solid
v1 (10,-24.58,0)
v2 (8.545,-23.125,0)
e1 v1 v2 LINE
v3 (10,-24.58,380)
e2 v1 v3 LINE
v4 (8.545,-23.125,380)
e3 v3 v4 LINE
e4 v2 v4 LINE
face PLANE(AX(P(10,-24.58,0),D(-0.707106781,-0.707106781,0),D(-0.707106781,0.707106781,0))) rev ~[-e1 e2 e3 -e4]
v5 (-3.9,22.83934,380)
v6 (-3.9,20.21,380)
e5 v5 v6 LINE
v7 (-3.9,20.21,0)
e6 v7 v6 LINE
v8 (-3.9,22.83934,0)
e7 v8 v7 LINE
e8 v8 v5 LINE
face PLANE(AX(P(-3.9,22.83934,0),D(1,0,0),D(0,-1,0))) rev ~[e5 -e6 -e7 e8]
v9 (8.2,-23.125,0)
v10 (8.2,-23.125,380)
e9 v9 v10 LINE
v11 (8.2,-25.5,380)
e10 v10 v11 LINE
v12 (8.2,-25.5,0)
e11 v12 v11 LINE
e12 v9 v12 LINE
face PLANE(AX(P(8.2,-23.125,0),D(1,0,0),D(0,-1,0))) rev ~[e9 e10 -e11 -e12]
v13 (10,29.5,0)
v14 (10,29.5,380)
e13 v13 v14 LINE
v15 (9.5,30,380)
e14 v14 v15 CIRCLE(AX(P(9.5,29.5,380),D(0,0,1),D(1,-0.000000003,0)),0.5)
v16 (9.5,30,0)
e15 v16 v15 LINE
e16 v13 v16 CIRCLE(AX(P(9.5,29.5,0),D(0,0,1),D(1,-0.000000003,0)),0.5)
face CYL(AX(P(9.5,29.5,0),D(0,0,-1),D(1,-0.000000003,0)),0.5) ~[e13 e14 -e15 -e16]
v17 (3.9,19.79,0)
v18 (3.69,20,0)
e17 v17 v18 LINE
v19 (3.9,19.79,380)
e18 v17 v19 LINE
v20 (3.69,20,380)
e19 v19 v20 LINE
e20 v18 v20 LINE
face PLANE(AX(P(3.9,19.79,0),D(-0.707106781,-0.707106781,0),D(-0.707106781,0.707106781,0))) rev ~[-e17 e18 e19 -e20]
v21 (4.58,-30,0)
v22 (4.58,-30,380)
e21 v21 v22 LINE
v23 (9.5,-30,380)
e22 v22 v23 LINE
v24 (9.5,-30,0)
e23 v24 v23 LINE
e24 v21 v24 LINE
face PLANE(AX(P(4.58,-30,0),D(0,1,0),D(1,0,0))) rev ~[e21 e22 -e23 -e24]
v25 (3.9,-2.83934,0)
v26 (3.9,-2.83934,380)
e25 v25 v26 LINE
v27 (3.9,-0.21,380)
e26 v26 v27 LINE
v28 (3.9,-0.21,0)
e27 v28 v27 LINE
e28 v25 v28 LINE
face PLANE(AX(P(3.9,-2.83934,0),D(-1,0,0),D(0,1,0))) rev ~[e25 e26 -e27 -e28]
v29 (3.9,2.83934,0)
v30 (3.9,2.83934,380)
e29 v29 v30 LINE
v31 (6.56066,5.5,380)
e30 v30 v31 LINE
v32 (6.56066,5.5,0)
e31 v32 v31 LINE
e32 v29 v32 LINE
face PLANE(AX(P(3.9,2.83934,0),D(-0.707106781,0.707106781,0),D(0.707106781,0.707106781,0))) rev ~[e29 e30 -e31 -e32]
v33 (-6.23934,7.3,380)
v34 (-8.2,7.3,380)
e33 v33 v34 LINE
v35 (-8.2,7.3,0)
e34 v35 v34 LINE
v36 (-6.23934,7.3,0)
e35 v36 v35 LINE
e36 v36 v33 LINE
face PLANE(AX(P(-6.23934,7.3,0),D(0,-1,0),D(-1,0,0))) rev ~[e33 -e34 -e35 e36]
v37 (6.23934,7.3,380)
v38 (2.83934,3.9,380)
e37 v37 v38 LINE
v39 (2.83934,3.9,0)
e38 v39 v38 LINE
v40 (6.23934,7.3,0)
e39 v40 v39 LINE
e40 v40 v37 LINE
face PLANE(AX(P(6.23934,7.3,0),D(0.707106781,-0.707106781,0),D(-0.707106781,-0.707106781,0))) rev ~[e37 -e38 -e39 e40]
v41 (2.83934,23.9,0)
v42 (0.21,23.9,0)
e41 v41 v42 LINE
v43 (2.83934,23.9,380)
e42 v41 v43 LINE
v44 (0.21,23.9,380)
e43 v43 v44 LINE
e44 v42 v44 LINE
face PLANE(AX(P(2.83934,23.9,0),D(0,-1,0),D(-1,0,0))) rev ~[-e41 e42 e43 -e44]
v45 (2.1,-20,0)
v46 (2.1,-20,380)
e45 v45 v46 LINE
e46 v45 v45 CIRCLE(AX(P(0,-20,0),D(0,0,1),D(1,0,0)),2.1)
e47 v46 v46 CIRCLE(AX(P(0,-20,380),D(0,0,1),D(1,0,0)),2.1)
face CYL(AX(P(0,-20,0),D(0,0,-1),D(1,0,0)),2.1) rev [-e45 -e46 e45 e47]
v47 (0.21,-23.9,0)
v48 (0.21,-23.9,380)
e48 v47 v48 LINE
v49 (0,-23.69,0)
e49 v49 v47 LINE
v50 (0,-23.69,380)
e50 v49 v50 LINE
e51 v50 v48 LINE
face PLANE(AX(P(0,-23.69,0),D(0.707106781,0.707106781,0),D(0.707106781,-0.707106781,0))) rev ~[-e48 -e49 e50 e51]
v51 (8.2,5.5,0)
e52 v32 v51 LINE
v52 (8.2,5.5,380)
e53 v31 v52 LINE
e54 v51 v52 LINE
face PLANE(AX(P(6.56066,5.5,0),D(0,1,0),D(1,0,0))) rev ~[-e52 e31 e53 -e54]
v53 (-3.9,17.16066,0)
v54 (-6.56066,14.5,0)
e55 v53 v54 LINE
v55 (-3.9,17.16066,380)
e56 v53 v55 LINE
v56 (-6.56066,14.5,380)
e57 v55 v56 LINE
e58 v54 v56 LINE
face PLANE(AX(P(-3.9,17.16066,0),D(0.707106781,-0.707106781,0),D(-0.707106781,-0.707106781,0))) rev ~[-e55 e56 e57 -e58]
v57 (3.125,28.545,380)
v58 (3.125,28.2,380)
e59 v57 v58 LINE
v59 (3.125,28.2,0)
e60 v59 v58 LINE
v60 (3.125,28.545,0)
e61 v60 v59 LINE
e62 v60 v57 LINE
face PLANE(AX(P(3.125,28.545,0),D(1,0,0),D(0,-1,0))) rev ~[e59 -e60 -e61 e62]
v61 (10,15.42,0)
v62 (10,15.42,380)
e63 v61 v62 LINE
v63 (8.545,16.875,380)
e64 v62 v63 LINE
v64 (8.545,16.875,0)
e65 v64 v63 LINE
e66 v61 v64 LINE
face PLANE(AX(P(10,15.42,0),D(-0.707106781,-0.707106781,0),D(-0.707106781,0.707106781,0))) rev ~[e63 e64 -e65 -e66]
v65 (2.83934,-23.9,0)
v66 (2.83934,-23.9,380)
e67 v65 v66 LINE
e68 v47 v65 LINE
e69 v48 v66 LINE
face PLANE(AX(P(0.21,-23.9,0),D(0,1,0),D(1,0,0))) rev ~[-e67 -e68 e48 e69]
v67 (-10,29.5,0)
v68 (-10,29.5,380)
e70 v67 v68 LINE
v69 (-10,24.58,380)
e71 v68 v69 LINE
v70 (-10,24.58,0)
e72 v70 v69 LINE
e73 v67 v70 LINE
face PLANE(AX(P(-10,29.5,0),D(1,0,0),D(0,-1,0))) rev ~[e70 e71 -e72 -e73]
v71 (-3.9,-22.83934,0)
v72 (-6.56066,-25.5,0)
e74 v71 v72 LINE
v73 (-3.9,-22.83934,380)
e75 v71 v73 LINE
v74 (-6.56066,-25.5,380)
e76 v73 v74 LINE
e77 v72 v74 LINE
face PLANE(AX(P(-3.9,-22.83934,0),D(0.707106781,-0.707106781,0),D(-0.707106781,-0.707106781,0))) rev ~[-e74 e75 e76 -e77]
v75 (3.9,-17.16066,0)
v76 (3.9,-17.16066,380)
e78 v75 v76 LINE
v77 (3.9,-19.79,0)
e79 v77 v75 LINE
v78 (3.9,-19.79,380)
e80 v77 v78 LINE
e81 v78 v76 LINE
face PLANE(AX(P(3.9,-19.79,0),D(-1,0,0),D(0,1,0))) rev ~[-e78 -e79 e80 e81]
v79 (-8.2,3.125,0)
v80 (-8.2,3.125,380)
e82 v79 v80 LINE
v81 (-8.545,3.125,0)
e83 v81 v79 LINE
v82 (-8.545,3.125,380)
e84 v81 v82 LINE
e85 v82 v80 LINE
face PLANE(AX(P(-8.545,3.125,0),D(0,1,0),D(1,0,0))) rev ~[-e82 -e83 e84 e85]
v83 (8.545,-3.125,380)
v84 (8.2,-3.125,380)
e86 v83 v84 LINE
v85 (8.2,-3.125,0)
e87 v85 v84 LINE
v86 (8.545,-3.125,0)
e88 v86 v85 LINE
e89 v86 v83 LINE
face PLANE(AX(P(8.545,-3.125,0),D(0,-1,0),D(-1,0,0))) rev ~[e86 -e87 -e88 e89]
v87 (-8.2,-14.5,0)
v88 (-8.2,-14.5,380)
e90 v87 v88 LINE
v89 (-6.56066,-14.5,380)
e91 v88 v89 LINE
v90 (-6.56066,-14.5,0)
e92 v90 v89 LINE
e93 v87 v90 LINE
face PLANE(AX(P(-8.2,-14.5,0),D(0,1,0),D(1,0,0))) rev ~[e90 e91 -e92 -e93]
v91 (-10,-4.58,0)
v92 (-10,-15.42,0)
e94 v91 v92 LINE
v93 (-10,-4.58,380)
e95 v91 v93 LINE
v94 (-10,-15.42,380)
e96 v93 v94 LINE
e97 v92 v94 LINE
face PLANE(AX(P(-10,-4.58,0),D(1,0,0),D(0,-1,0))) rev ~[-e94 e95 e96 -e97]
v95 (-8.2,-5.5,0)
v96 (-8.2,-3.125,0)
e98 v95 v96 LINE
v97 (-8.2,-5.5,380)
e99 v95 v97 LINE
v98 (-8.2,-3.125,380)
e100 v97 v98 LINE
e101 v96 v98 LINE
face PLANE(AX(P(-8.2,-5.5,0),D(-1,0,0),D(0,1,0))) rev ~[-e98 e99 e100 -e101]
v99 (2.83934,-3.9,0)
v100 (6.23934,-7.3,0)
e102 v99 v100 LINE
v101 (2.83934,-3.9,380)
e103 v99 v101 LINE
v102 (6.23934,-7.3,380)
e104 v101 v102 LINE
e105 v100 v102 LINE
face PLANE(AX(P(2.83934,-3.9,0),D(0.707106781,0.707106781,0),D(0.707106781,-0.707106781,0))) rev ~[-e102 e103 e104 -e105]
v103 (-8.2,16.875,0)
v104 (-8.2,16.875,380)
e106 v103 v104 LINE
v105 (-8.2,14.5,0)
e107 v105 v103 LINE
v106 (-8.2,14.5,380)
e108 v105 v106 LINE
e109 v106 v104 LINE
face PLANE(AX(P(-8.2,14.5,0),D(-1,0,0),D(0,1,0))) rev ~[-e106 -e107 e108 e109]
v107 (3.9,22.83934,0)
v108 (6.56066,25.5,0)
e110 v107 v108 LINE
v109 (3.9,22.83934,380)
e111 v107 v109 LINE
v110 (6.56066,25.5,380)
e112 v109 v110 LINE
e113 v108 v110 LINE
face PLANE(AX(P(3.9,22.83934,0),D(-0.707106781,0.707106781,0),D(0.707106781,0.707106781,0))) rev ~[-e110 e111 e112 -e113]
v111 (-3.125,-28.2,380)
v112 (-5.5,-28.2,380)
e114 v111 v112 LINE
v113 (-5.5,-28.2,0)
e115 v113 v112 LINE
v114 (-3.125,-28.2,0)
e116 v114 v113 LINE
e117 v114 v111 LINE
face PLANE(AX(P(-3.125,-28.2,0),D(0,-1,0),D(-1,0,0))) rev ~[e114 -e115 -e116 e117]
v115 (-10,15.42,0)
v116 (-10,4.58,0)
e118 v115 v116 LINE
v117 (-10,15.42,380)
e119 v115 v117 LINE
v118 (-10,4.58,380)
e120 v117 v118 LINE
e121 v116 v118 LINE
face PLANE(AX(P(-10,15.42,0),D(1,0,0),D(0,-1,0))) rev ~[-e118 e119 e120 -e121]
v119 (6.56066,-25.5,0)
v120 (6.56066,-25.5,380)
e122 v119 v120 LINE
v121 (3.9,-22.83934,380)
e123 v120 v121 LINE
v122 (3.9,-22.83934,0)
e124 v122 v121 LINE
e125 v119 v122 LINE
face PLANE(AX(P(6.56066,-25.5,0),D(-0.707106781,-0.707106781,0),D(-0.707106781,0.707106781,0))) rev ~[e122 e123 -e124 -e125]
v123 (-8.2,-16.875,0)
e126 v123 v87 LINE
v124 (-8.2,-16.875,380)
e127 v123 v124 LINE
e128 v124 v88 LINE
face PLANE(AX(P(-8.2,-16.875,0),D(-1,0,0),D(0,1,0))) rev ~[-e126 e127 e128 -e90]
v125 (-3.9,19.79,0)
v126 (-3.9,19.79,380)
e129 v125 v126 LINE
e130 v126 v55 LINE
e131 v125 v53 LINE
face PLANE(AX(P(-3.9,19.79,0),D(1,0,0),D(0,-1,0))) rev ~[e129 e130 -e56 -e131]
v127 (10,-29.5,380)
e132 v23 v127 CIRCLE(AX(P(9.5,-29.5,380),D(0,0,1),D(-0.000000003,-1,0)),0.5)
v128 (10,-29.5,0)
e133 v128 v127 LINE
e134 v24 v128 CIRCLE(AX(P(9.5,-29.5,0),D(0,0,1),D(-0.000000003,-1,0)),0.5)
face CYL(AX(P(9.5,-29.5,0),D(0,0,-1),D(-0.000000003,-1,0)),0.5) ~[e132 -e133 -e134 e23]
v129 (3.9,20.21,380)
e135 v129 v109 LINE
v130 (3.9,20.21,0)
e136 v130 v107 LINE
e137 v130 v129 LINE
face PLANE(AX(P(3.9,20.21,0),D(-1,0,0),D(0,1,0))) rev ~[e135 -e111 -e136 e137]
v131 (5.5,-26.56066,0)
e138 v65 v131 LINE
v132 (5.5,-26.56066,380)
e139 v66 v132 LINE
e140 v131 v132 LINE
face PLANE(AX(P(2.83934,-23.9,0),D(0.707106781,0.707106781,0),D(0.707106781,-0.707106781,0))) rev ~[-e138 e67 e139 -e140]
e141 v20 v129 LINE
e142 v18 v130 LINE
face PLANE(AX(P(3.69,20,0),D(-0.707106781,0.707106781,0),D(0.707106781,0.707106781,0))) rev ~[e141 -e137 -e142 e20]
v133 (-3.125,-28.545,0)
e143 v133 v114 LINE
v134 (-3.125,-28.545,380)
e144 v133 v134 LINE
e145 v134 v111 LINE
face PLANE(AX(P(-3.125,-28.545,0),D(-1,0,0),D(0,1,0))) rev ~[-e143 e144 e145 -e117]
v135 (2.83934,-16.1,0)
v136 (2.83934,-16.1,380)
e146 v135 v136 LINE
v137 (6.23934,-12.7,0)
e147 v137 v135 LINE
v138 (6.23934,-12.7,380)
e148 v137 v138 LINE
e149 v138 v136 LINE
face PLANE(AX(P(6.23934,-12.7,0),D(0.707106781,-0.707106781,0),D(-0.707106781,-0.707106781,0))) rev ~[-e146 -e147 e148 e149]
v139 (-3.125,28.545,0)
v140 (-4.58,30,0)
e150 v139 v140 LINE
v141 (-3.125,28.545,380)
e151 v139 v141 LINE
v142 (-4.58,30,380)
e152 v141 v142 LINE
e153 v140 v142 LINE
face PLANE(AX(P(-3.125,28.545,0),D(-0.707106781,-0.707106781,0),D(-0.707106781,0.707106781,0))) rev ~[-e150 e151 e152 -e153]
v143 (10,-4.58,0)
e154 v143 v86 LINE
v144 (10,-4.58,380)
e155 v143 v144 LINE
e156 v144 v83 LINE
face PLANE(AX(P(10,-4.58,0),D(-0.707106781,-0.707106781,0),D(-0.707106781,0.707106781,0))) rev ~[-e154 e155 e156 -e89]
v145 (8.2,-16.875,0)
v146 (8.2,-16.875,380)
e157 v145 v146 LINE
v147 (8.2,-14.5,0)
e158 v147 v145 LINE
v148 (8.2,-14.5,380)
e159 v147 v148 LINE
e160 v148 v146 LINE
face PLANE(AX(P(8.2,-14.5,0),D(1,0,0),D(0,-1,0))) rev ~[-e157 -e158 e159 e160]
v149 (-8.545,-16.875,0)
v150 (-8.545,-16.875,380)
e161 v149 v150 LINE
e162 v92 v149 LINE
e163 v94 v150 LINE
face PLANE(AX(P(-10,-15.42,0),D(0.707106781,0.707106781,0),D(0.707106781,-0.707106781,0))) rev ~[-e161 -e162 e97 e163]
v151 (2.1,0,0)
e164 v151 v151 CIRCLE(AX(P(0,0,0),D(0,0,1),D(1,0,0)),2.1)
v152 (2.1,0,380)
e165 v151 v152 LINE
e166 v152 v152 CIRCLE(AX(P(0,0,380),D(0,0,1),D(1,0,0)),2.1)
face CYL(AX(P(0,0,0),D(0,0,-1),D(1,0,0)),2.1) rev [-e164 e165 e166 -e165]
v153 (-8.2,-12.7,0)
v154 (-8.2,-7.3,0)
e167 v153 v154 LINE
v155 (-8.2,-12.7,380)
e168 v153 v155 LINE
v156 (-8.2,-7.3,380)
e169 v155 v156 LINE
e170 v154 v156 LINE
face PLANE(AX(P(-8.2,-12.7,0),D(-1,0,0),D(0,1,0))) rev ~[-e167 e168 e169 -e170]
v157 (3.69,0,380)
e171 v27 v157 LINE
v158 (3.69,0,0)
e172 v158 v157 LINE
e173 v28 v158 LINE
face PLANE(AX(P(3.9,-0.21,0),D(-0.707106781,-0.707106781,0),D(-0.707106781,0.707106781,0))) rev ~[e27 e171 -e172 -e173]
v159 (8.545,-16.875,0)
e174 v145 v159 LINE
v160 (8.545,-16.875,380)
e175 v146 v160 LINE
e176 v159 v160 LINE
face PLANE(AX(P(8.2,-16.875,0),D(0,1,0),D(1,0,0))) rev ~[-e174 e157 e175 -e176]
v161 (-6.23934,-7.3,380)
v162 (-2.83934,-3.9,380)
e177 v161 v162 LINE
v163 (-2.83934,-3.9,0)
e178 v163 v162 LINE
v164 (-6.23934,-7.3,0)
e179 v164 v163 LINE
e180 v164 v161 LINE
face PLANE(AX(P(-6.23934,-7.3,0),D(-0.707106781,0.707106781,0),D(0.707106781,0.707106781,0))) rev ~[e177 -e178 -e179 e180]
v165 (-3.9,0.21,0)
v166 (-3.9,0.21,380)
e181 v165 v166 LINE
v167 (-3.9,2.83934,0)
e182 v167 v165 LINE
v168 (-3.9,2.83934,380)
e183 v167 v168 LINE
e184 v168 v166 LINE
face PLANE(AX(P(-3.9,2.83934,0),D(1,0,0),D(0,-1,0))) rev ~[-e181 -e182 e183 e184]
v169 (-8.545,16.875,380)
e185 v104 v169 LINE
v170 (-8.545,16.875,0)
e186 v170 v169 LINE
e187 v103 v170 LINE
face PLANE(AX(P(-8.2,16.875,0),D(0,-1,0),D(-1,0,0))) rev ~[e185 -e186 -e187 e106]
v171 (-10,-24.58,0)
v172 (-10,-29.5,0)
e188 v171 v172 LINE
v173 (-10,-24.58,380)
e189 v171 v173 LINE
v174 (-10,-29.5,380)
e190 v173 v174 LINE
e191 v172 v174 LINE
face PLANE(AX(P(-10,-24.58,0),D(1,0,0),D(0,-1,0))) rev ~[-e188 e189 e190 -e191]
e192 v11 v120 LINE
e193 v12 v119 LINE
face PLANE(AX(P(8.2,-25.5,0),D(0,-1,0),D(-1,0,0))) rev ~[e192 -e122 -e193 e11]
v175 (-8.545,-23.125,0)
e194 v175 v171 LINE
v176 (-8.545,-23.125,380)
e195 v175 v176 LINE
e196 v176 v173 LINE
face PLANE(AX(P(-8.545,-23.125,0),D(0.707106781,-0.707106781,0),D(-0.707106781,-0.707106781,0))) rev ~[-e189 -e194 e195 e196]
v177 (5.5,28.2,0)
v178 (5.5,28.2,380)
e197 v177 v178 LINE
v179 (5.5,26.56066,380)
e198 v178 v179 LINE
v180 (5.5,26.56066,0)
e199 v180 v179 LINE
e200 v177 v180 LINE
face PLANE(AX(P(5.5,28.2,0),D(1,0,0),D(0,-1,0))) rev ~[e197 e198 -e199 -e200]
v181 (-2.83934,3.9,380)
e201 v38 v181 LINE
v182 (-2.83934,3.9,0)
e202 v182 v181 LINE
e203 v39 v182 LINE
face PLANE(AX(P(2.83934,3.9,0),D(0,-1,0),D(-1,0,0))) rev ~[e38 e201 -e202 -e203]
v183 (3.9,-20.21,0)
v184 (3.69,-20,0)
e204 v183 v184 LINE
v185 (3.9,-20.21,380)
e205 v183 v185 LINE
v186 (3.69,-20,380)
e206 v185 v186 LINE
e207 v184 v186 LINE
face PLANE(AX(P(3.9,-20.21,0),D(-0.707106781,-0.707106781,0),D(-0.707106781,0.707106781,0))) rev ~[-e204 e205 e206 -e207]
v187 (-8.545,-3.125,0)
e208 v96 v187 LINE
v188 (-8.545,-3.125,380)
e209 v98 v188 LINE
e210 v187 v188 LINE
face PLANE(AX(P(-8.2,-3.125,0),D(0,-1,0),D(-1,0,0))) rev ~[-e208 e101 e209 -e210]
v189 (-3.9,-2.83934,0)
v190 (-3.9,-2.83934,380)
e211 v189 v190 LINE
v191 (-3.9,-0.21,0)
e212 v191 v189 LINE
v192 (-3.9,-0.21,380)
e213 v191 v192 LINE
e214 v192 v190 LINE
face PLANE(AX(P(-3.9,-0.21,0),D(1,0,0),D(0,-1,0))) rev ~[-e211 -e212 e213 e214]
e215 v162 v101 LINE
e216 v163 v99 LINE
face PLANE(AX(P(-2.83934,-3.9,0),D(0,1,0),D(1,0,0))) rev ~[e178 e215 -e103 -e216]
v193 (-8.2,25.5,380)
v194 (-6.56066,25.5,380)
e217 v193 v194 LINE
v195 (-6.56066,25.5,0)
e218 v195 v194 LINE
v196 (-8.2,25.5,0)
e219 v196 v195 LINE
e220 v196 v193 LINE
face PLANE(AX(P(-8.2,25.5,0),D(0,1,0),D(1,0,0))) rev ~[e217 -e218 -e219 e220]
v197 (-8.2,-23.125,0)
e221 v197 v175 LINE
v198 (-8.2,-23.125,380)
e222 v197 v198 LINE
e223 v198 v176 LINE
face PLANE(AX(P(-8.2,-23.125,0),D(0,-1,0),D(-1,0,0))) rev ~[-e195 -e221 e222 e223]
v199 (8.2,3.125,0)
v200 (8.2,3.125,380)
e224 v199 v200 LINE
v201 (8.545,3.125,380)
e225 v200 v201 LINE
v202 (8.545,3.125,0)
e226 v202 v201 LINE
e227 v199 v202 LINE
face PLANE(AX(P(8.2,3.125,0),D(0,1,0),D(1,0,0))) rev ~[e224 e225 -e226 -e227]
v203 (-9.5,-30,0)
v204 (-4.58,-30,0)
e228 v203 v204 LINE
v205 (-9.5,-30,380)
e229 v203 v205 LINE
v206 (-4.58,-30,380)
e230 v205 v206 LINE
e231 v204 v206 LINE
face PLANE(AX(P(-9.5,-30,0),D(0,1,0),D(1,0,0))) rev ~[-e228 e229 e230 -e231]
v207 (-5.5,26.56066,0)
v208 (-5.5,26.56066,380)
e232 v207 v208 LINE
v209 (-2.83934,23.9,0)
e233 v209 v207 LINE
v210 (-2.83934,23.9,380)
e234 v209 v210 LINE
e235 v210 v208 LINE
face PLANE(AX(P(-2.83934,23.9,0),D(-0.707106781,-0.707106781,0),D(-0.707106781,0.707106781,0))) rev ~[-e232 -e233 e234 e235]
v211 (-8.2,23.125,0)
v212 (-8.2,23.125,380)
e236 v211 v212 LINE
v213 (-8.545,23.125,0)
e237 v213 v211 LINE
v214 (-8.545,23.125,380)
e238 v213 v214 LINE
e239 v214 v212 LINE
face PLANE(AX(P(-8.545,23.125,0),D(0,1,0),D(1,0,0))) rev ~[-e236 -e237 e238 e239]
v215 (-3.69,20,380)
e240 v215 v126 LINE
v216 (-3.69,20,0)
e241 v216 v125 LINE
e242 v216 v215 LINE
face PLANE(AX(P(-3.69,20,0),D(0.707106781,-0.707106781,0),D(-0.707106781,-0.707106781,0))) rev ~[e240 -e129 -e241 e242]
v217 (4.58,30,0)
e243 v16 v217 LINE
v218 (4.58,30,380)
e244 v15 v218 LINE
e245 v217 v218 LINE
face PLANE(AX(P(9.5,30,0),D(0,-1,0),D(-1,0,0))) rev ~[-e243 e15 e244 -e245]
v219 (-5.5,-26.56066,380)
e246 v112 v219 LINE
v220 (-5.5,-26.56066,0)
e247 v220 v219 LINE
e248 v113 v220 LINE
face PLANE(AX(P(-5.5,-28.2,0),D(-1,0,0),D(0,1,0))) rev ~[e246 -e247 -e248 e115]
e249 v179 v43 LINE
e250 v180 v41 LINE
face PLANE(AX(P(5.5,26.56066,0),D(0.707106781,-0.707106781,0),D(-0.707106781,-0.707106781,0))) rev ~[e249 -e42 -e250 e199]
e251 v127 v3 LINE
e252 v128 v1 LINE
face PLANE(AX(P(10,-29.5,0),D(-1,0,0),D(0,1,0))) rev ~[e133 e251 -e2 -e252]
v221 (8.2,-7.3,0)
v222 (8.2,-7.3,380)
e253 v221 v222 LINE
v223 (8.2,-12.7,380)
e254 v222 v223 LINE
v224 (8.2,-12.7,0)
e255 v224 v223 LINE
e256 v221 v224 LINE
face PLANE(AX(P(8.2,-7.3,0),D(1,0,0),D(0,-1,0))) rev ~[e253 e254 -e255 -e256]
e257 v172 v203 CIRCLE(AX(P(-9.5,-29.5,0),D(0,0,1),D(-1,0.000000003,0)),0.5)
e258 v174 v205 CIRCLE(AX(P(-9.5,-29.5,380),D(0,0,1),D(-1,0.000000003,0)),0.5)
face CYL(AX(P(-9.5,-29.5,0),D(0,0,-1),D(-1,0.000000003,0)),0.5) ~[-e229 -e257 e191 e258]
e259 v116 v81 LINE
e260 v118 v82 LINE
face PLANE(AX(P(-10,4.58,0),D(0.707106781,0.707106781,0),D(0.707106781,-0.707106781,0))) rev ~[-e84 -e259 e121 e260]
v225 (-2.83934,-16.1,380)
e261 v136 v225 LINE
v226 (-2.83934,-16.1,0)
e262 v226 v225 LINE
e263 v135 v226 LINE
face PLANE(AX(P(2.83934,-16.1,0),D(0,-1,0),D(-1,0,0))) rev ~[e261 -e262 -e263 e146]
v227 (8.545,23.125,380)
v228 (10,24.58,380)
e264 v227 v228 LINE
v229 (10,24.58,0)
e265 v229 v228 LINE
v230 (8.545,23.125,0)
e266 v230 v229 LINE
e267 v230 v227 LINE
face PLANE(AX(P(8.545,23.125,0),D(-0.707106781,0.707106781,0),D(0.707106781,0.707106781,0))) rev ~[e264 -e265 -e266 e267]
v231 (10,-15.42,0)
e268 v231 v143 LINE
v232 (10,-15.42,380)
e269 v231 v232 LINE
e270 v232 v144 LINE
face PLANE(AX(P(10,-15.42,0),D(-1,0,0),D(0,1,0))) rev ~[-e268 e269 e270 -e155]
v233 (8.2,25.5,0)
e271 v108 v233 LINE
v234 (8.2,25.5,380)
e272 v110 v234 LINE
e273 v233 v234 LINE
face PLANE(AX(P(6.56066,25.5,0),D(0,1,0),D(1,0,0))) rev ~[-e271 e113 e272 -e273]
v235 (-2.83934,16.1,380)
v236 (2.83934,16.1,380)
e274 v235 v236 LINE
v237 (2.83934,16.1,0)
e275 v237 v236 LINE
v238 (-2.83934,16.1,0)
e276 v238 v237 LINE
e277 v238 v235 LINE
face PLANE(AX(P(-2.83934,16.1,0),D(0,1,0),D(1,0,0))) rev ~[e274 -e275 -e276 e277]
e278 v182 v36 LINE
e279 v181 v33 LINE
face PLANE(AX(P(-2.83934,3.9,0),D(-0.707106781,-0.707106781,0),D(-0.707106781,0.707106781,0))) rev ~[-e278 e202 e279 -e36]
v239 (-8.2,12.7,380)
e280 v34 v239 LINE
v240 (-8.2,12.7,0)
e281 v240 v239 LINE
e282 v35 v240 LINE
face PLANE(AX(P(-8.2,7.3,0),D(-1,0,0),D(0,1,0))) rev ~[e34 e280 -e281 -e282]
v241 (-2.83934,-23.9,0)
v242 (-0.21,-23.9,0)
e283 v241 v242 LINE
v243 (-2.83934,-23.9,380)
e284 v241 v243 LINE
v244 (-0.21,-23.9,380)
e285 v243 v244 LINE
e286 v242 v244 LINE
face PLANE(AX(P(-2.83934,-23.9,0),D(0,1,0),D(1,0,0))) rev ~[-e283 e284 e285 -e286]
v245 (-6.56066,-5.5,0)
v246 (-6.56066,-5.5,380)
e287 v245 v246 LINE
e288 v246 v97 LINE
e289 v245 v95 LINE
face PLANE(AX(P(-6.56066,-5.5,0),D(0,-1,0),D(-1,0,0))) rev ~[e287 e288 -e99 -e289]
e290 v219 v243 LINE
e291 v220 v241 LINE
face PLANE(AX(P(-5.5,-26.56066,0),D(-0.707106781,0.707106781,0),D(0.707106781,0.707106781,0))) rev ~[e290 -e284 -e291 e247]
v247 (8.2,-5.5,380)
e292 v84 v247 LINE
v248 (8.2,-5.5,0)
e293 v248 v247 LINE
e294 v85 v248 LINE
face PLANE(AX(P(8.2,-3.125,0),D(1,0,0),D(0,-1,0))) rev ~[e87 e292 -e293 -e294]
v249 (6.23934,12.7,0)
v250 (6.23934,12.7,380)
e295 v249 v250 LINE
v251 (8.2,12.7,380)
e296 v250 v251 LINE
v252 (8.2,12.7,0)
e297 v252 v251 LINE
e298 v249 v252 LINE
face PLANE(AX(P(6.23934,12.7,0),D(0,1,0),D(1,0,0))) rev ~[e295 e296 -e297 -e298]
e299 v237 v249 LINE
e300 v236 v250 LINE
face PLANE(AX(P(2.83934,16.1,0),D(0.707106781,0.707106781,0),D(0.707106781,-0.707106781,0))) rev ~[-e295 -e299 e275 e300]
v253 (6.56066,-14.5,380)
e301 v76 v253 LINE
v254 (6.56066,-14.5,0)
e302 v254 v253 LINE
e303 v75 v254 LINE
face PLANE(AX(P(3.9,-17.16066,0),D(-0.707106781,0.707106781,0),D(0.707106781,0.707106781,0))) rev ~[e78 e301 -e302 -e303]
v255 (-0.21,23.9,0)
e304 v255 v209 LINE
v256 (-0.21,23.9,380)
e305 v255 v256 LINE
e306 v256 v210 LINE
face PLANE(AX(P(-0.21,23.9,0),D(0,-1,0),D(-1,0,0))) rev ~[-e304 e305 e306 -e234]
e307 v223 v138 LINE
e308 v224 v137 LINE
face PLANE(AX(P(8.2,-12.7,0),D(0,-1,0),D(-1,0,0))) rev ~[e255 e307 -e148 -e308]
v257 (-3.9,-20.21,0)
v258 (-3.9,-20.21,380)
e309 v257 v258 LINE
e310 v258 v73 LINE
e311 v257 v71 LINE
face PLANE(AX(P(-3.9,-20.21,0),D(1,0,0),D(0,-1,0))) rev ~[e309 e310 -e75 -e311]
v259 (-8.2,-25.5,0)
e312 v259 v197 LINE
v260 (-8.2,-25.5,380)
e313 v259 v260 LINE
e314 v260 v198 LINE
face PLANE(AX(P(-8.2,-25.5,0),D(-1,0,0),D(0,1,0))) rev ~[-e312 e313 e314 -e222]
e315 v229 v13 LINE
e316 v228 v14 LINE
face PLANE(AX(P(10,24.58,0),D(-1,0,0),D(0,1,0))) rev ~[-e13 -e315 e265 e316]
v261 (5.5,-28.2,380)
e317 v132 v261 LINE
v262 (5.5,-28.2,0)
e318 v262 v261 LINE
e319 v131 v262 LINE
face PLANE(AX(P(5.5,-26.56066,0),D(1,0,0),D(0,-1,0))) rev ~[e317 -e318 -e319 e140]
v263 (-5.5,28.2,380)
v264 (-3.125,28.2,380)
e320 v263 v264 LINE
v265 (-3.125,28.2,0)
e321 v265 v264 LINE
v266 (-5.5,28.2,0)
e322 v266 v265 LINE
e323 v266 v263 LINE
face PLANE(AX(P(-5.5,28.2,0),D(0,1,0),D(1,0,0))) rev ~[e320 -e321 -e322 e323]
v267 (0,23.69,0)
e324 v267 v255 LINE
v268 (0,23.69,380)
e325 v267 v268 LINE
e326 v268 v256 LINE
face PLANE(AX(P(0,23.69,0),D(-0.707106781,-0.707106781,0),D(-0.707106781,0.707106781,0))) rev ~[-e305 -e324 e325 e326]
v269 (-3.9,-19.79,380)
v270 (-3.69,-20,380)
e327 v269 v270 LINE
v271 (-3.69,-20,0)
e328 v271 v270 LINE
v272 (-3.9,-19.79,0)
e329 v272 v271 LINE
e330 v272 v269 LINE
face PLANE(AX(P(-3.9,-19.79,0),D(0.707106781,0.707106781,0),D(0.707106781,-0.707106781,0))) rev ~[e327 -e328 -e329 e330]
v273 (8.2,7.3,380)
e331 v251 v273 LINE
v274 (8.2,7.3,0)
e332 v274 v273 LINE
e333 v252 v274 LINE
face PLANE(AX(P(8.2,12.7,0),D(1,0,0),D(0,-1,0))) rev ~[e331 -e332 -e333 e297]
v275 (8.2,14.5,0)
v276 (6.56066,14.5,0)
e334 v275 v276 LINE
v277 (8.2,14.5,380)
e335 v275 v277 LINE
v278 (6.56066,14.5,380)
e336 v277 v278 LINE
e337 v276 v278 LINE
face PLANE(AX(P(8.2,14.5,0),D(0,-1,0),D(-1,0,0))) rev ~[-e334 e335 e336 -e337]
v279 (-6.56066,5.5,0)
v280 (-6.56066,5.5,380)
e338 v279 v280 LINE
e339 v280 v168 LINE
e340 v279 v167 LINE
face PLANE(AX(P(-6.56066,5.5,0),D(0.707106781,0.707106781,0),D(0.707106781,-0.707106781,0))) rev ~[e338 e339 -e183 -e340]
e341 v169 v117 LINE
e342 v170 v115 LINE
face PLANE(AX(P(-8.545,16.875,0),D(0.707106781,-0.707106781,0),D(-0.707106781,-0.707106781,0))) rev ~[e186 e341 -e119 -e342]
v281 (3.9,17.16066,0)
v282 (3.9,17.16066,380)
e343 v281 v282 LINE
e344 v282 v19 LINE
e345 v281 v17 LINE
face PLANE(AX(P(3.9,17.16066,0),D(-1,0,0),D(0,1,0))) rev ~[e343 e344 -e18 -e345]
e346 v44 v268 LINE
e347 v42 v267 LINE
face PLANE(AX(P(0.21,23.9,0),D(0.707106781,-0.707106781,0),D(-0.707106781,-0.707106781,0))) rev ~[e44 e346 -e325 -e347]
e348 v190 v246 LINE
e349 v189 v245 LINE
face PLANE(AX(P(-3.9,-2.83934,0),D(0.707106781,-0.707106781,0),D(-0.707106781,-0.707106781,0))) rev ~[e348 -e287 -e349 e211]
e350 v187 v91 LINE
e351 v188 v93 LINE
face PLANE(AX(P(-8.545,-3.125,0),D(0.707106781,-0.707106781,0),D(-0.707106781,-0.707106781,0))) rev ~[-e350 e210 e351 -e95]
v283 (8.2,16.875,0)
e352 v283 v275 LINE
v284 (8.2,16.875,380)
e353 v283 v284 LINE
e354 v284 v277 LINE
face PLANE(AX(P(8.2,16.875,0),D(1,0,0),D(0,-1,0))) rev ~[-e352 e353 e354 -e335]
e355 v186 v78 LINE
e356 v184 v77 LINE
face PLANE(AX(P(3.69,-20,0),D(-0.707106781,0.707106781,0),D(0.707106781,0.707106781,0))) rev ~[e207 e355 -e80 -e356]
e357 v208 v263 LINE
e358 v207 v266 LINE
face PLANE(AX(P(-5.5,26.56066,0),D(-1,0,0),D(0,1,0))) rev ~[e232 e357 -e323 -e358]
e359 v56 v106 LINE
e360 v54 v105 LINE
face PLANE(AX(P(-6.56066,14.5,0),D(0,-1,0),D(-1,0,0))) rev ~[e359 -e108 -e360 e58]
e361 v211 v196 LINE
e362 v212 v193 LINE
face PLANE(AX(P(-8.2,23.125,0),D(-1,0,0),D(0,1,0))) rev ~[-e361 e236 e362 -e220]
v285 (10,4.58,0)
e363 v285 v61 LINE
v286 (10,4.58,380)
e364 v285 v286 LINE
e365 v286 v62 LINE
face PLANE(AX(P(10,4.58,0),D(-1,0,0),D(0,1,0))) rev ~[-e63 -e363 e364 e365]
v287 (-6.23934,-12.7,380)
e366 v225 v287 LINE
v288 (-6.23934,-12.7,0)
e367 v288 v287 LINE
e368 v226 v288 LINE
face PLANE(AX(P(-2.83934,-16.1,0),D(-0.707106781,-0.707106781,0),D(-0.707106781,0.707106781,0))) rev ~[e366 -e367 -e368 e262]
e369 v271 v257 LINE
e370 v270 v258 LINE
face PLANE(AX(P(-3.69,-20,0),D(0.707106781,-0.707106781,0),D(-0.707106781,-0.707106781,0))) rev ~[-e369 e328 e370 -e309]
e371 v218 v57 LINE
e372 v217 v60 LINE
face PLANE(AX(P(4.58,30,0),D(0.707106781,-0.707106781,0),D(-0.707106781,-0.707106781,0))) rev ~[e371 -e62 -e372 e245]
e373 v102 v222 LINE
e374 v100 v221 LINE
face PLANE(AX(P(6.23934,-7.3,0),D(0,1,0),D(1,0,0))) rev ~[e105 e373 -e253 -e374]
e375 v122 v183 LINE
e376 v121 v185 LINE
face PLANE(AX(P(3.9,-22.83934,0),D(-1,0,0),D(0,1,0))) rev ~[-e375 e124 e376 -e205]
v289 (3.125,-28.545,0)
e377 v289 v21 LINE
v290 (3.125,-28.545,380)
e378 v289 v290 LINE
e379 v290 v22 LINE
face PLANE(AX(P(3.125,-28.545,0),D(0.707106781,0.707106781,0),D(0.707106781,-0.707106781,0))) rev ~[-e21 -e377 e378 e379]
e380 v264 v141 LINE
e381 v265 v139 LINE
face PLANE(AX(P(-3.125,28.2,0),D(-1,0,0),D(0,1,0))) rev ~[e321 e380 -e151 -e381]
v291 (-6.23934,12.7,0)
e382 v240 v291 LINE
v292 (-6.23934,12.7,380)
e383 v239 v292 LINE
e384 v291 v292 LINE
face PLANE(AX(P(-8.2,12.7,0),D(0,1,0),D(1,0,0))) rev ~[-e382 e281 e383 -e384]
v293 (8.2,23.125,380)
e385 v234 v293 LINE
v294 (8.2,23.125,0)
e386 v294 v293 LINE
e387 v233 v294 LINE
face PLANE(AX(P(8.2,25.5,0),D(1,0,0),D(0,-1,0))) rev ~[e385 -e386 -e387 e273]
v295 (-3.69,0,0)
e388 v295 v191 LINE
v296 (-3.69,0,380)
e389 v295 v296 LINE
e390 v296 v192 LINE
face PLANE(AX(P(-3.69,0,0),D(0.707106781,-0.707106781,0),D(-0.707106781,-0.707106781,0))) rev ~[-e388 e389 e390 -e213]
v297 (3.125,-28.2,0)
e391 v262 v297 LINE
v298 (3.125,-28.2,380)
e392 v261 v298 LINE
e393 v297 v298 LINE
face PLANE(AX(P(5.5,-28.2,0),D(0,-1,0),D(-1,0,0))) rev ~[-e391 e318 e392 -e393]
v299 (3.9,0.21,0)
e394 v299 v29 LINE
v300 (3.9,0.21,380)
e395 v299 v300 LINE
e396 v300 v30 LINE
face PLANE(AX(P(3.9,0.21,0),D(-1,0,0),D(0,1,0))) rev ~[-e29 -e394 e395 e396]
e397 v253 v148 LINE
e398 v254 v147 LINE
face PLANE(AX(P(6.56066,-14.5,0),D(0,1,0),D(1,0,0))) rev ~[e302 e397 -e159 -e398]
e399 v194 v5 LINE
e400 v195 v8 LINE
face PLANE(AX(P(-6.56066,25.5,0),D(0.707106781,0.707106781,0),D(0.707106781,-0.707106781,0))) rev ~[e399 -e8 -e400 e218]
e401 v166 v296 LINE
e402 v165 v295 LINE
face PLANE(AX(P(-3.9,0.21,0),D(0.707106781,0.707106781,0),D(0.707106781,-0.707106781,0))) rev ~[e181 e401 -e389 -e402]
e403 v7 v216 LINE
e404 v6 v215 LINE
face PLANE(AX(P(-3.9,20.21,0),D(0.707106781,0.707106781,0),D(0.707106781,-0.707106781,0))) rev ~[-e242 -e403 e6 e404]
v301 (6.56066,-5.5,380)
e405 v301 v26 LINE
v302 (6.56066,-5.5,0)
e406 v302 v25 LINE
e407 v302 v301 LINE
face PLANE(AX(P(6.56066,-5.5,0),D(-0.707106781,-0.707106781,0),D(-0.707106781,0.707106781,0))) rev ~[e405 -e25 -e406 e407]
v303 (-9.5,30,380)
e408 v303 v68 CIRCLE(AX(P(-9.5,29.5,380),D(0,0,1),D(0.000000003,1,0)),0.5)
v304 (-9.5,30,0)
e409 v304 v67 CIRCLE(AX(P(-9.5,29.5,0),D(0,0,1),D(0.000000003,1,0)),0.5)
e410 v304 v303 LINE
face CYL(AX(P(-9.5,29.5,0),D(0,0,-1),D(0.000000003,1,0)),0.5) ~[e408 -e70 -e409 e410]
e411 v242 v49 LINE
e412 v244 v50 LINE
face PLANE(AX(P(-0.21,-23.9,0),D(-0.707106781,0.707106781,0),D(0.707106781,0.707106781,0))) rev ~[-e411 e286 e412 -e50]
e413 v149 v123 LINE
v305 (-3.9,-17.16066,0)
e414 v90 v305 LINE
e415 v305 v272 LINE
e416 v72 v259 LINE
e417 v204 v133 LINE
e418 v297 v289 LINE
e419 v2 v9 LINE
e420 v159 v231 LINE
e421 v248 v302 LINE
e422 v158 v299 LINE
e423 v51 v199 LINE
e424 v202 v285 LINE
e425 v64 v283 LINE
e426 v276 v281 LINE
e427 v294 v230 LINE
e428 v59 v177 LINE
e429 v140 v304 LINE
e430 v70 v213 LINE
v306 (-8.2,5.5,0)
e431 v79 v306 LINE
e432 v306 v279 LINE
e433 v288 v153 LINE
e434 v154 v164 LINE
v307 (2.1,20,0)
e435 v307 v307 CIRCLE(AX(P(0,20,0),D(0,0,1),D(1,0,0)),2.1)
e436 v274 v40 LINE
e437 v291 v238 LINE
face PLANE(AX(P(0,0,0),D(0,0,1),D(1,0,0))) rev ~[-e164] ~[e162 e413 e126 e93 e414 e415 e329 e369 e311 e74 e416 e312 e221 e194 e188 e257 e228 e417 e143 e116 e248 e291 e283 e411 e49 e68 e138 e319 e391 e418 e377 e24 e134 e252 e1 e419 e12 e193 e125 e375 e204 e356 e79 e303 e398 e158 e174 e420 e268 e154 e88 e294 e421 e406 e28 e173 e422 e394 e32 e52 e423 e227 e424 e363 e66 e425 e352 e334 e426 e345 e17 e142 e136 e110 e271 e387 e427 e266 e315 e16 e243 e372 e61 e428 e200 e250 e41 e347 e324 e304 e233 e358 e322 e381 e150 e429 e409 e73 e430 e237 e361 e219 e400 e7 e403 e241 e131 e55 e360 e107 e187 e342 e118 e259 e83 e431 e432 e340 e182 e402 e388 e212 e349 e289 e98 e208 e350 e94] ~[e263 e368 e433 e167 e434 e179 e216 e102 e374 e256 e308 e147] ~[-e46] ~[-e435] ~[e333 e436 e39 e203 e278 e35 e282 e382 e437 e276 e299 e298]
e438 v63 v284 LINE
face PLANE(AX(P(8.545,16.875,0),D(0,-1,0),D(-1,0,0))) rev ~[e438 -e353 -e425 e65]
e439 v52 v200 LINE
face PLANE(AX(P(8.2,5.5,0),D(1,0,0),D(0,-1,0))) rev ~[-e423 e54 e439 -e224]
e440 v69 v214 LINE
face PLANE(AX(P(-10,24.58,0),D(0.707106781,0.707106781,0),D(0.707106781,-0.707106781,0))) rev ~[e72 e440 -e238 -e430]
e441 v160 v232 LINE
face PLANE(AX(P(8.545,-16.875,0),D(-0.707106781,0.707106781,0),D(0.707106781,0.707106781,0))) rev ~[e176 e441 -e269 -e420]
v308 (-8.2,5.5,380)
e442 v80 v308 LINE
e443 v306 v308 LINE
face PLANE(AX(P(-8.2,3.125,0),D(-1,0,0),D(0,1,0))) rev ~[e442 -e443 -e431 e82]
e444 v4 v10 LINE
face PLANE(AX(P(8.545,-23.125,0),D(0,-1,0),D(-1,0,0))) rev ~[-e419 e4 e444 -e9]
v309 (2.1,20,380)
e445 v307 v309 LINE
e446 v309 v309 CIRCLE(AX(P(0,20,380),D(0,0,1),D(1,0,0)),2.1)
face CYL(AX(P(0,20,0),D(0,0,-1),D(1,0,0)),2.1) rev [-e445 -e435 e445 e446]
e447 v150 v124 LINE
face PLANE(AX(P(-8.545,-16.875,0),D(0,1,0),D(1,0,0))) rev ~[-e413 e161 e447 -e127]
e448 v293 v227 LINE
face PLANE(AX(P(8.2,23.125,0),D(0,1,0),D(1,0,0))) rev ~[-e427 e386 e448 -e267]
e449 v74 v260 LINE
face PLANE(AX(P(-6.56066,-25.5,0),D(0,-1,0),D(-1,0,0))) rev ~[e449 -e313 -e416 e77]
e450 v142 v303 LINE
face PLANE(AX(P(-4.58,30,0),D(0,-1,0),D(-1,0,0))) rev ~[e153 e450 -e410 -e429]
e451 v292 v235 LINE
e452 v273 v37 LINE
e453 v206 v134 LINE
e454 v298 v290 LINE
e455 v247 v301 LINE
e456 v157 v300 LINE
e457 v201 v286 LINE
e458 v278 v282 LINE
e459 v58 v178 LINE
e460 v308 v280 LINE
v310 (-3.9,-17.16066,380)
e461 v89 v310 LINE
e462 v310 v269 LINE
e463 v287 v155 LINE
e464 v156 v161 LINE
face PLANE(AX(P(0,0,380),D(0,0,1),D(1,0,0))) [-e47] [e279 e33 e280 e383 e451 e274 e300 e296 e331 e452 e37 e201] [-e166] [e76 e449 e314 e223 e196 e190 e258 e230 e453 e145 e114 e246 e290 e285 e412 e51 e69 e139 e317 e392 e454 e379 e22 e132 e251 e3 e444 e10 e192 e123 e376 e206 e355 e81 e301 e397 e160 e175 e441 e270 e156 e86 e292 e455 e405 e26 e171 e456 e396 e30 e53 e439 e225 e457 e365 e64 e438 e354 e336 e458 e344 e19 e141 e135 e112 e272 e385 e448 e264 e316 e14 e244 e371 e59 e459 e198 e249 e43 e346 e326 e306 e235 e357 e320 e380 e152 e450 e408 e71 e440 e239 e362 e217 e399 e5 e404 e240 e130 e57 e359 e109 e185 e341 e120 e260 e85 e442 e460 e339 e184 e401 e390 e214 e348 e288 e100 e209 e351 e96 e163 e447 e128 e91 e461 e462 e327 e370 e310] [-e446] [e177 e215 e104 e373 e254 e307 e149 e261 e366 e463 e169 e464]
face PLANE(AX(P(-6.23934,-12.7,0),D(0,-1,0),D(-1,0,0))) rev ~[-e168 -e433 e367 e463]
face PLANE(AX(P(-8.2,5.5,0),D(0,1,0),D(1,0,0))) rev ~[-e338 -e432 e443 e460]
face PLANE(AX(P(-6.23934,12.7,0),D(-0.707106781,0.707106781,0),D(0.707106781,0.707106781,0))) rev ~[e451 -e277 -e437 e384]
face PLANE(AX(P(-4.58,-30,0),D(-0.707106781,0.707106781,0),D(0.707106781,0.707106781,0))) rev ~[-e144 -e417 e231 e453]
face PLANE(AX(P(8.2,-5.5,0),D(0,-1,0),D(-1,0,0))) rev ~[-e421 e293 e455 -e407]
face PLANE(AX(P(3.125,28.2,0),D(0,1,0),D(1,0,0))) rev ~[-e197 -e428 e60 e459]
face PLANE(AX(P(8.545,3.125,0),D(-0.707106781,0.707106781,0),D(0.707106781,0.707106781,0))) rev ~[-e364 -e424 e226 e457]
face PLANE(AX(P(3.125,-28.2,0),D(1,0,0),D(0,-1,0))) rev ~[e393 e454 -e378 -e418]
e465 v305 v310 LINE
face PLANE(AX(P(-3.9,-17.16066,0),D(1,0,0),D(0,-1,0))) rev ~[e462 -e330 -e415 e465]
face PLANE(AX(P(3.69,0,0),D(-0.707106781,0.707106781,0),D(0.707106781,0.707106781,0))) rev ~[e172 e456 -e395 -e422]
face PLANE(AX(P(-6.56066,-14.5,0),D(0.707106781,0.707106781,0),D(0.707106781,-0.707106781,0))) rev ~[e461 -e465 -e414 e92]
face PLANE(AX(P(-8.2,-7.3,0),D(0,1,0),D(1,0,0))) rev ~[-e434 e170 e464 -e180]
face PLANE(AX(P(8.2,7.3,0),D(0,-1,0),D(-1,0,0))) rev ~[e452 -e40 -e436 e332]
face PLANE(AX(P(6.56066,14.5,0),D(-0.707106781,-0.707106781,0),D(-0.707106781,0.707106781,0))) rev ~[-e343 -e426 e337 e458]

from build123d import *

# Parameters (mm, degrees)
SKETCH1_R           = 2.1
BOSS_EXTRUDE1_DEPTH = 380


with BuildPart() as part:
    # Sketch1 → Boss-Extrude1 (new body)
    with BuildSketch(Plane.XY):
        with BuildLine():
            Line((4.58, -30), (9.5, -30))
            ThreePointArc((9.5, -30), (9.853553391, -29.853553391), (10, -29.5))
            Line((10, -29.5), (10, -24.58))
            Line((10, -24.58), (8.545, -23.125))
            Line((8.545, -23.125), (8.2, -23.125))
            Line((8.2, -23.125), (8.2, -25.5))
            Line((8.2, -25.5), (6.560660172, -25.5))
            Line((6.560660172, -25.5), (3.9, -22.839339828))
            Line((3.9, -22.839339828), (3.9, -20.21))
            Line((3.9, -20.21), (3.69, -20))
            Line((3.69, -20), (3.9, -19.79))
            Line((3.9, -19.79), (3.9, -17.160660172))
            Line((3.9, -17.160660172), (6.560660172, -14.5))
            Line((6.560660172, -14.5), (8.2, -14.5))
            Line((8.2, -14.5), (8.2, -16.875))
            Line((8.2, -16.875), (8.545, -16.875))
            Line((8.545, -16.875), (10, -15.42))
            Line((10, -15.42), (10, -4.58))
            Line((10, -4.58), (8.545, -3.125))
            Line((8.545, -3.125), (8.2, -3.125))
            Line((8.2, -3.125), (8.2, -5.5))
            Line((8.2, -5.5), (6.560660172, -5.5))
            Line((6.560660172, -5.5), (3.9, -2.839339828))
            Line((3.9, -2.839339828), (3.9, -0.21))
            Line((3.9, -0.21), (3.69, 0))
            Line((3.69, 0), (3.9, 0.21))
            Line((3.9, 0.21), (3.9, 2.839339828))
            Line((3.9, 2.839339828), (6.560660172, 5.5))
            Line((6.560660172, 5.5), (8.2, 5.5))
            Line((8.2, 5.5), (8.2, 3.125))
            Line((8.2, 3.125), (8.545, 3.125))
            Line((8.545, 3.125), (10, 4.58))
            Line((10, 4.58), (10, 15.42))
            Line((10, 15.42), (8.545, 16.875))
            Line((8.545, 16.875), (8.2, 16.875))
            Line((8.2, 16.875), (8.2, 14.5))
            Line((8.2, 14.5), (6.560660172, 14.5))
            Line((6.560660172, 14.5), (3.9, 17.160660172))
            Line((3.9, 17.160660172), (3.9, 19.79))
            Line((3.9, 19.79), (3.69, 20))
            Line((3.69, 20), (3.9, 20.21))
            Line((3.9, 20.21), (3.9, 22.839339828))
            Line((3.9, 22.839339828), (6.560660172, 25.5))
            Line((6.560660172, 25.5), (8.2, 25.5))
            Line((8.2, 25.5), (8.2, 23.125))
            Line((8.2, 23.125), (8.545, 23.125))
            Line((8.545, 23.125), (10, 24.58))
            Line((10, 24.58), (10, 29.5))
            ThreePointArc((10, 29.5), (9.853553391, 29.853553391), (9.5, 30))
            Line((9.5, 30), (4.58, 30))
            Line((4.58, 30), (3.125, 28.545))
            Line((3.125, 28.545), (3.125, 28.2))
            Line((3.125, 28.2), (5.5, 28.2))
            Line((5.5, 28.2), (5.5, 26.560660172))
            Line((5.5, 26.560660172), (2.839339828, 23.9))
            Line((2.839339828, 23.9), (0.21, 23.9))
            Line((0.21, 23.9), (0, 23.69))
            Line((0, 23.69), (-0.21, 23.9))
            Line((-0.21, 23.9), (-2.839339828, 23.9))
            Line((-2.839339828, 23.9), (-5.5, 26.560660172))
            Line((-5.5, 26.560660172), (-5.5, 28.2))
            Line((-5.5, 28.2), (-3.125, 28.2))
            Line((-3.125, 28.2), (-3.125, 28.545))
            Line((-3.125, 28.545), (-4.58, 30))
            Line((-4.58, 30), (-9.5, 30))
            ThreePointArc((-9.5, 30), (-9.853553391, 29.853553391), (-10, 29.5))
            Line((-10, 29.5), (-10, 24.58))
            Line((-10, 24.58), (-8.545, 23.125))
            Line((-8.545, 23.125), (-8.2, 23.125))
            Line((-8.2, 23.125), (-8.2, 25.5))
            Line((-8.2, 25.5), (-6.560660172, 25.5))
            Line((-6.560660172, 25.5), (-3.9, 22.839339828))
            Line((-3.9, 22.839339828), (-3.9, 20.21))
            Line((-3.9, 20.21), (-3.69, 20))
            Line((-3.69, 20), (-3.9, 19.79))
            Line((-3.9, 19.79), (-3.9, 17.160660172))
            Line((-3.9, 17.160660172), (-6.560660172, 14.5))
            Line((-6.560660172, 14.5), (-8.2, 14.5))
            Line((-8.2, 14.5), (-8.2, 16.875))
            Line((-8.2, 16.875), (-8.545, 16.875))
            Line((-8.545, 16.875), (-10, 15.42))
            Line((-10, 15.42), (-10, 4.58))
            Line((-10, 4.58), (-8.545, 3.125))
            Line((-8.545, 3.125), (-8.2, 3.125))
            Line((-8.2, 3.125), (-8.2, 5.5))
            Line((-8.2, 5.5), (-6.560660172, 5.5))
            Line((-6.560660172, 5.5), (-3.9, 2.839339828))
            Line((-3.9, 2.839339828), (-3.9, 0.21))
            Line((-3.9, 0.21), (-3.69, 0))
            Line((-3.69, 0), (-3.9, -0.21))
            Line((-3.9, -0.21), (-3.9, -2.839339828))
            Line((-3.9, -2.839339828), (-6.560660172, -5.5))
            Line((-6.560660172, -5.5), (-8.2, -5.5))
            Line((-8.2, -5.5), (-8.2, -3.125))
            Line((-8.2, -3.125), (-8.545, -3.125))
            Line((-8.545, -3.125), (-10, -4.58))
            Line((-10, -4.58), (-10, -15.42))
            Line((-10, -15.42), (-8.545, -16.875))
            Line((-8.545, -16.875), (-8.2, -16.875))
            Line((-8.2, -16.875), (-8.2, -14.5))
            Line((-8.2, -14.5), (-6.560660172, -14.5))
            Line((-6.560660172, -14.5), (-3.9, -17.160660172))
            Line((-3.9, -17.160660172), (-3.9, -19.79))
            Line((-3.9, -19.79), (-3.69, -20))
            Line((-3.69, -20), (-3.9, -20.21))
            Line((-3.9, -20.21), (-3.9, -22.839339828))
            Line((-3.9, -22.839339828), (-6.560660172, -25.5))
            Line((-6.560660172, -25.5), (-8.2, -25.5))
            Line((-8.2, -25.5), (-8.2, -23.125))
            Line((-8.2, -23.125), (-8.545, -23.125))
            Line((-8.545, -23.125), (-10, -24.58))
            Line((-10, -24.58), (-10, -29.5))
            ThreePointArc((-10, -29.5), (-9.853553391, -29.853553391), (-9.5, -30))
            Line((-9.5, -30), (-4.58, -30))
            Line((-4.58, -30), (-3.125, -28.545))
            Line((-3.125, -28.545), (-3.125, -28.2))
            Line((-3.125, -28.2), (-5.5, -28.2))
            Line((-5.5, -28.2), (-5.5, -26.560660172))
            Line((-5.5, -26.560660172), (-2.839339828, -23.9))
            Line((-2.839339828, -23.9), (-0.21, -23.9))
            Line((-0.21, -23.9), (0, -23.69))
            Line((0, -23.69), (0.21, -23.9))
            Line((0.21, -23.9), (2.839339828, -23.9))
            Line((2.839339828, -23.9), (5.5, -26.560660172))
            Line((5.5, -26.560660172), (5.5, -28.2))
            Line((5.5, -28.2), (3.125, -28.2))
            Line((3.125, -28.2), (3.125, -28.545))
            Line((3.125, -28.545), (4.58, -30))
        make_face()
        with Locations((0, -20)):
            Circle(SKETCH1_R, mode=Mode.SUBTRACT)
        Polygon((-6.239339828, -12.7), (-8.2, -12.7), (-8.2, -7.3), (-6.239339828, -7.3), (-2.839339828, -3.9), (2.839339828, -3.9), (6.239339828, -7.3), (8.2, -7.3), (8.2, -12.7), (6.239339828, -12.7), (2.839339828, -16.1), (-2.839339828, -16.1), align=None, mode=Mode.SUBTRACT)
        Polygon((-6.239339828, 7.3), (-8.2, 7.3), (-8.2, 12.7), (-6.239339828, 12.7), (-2.839339828, 16.1), (2.839339828, 16.1), (6.239339828, 12.7), (8.2, 12.7), (8.2, 7.3), (6.239339828, 7.3), (2.839339828, 3.9), (-2.839339828, 3.9), align=None, mode=Mode.SUBTRACT)
        with Locations((0, 20)):
            Circle(SKETCH1_R, mode=Mode.SUBTRACT)
        Circle(SKETCH1_R, mode=Mode.SUBTRACT)
    extrude(amount=BOSS_EXTRUDE1_DEPTH)


solid = part.part
